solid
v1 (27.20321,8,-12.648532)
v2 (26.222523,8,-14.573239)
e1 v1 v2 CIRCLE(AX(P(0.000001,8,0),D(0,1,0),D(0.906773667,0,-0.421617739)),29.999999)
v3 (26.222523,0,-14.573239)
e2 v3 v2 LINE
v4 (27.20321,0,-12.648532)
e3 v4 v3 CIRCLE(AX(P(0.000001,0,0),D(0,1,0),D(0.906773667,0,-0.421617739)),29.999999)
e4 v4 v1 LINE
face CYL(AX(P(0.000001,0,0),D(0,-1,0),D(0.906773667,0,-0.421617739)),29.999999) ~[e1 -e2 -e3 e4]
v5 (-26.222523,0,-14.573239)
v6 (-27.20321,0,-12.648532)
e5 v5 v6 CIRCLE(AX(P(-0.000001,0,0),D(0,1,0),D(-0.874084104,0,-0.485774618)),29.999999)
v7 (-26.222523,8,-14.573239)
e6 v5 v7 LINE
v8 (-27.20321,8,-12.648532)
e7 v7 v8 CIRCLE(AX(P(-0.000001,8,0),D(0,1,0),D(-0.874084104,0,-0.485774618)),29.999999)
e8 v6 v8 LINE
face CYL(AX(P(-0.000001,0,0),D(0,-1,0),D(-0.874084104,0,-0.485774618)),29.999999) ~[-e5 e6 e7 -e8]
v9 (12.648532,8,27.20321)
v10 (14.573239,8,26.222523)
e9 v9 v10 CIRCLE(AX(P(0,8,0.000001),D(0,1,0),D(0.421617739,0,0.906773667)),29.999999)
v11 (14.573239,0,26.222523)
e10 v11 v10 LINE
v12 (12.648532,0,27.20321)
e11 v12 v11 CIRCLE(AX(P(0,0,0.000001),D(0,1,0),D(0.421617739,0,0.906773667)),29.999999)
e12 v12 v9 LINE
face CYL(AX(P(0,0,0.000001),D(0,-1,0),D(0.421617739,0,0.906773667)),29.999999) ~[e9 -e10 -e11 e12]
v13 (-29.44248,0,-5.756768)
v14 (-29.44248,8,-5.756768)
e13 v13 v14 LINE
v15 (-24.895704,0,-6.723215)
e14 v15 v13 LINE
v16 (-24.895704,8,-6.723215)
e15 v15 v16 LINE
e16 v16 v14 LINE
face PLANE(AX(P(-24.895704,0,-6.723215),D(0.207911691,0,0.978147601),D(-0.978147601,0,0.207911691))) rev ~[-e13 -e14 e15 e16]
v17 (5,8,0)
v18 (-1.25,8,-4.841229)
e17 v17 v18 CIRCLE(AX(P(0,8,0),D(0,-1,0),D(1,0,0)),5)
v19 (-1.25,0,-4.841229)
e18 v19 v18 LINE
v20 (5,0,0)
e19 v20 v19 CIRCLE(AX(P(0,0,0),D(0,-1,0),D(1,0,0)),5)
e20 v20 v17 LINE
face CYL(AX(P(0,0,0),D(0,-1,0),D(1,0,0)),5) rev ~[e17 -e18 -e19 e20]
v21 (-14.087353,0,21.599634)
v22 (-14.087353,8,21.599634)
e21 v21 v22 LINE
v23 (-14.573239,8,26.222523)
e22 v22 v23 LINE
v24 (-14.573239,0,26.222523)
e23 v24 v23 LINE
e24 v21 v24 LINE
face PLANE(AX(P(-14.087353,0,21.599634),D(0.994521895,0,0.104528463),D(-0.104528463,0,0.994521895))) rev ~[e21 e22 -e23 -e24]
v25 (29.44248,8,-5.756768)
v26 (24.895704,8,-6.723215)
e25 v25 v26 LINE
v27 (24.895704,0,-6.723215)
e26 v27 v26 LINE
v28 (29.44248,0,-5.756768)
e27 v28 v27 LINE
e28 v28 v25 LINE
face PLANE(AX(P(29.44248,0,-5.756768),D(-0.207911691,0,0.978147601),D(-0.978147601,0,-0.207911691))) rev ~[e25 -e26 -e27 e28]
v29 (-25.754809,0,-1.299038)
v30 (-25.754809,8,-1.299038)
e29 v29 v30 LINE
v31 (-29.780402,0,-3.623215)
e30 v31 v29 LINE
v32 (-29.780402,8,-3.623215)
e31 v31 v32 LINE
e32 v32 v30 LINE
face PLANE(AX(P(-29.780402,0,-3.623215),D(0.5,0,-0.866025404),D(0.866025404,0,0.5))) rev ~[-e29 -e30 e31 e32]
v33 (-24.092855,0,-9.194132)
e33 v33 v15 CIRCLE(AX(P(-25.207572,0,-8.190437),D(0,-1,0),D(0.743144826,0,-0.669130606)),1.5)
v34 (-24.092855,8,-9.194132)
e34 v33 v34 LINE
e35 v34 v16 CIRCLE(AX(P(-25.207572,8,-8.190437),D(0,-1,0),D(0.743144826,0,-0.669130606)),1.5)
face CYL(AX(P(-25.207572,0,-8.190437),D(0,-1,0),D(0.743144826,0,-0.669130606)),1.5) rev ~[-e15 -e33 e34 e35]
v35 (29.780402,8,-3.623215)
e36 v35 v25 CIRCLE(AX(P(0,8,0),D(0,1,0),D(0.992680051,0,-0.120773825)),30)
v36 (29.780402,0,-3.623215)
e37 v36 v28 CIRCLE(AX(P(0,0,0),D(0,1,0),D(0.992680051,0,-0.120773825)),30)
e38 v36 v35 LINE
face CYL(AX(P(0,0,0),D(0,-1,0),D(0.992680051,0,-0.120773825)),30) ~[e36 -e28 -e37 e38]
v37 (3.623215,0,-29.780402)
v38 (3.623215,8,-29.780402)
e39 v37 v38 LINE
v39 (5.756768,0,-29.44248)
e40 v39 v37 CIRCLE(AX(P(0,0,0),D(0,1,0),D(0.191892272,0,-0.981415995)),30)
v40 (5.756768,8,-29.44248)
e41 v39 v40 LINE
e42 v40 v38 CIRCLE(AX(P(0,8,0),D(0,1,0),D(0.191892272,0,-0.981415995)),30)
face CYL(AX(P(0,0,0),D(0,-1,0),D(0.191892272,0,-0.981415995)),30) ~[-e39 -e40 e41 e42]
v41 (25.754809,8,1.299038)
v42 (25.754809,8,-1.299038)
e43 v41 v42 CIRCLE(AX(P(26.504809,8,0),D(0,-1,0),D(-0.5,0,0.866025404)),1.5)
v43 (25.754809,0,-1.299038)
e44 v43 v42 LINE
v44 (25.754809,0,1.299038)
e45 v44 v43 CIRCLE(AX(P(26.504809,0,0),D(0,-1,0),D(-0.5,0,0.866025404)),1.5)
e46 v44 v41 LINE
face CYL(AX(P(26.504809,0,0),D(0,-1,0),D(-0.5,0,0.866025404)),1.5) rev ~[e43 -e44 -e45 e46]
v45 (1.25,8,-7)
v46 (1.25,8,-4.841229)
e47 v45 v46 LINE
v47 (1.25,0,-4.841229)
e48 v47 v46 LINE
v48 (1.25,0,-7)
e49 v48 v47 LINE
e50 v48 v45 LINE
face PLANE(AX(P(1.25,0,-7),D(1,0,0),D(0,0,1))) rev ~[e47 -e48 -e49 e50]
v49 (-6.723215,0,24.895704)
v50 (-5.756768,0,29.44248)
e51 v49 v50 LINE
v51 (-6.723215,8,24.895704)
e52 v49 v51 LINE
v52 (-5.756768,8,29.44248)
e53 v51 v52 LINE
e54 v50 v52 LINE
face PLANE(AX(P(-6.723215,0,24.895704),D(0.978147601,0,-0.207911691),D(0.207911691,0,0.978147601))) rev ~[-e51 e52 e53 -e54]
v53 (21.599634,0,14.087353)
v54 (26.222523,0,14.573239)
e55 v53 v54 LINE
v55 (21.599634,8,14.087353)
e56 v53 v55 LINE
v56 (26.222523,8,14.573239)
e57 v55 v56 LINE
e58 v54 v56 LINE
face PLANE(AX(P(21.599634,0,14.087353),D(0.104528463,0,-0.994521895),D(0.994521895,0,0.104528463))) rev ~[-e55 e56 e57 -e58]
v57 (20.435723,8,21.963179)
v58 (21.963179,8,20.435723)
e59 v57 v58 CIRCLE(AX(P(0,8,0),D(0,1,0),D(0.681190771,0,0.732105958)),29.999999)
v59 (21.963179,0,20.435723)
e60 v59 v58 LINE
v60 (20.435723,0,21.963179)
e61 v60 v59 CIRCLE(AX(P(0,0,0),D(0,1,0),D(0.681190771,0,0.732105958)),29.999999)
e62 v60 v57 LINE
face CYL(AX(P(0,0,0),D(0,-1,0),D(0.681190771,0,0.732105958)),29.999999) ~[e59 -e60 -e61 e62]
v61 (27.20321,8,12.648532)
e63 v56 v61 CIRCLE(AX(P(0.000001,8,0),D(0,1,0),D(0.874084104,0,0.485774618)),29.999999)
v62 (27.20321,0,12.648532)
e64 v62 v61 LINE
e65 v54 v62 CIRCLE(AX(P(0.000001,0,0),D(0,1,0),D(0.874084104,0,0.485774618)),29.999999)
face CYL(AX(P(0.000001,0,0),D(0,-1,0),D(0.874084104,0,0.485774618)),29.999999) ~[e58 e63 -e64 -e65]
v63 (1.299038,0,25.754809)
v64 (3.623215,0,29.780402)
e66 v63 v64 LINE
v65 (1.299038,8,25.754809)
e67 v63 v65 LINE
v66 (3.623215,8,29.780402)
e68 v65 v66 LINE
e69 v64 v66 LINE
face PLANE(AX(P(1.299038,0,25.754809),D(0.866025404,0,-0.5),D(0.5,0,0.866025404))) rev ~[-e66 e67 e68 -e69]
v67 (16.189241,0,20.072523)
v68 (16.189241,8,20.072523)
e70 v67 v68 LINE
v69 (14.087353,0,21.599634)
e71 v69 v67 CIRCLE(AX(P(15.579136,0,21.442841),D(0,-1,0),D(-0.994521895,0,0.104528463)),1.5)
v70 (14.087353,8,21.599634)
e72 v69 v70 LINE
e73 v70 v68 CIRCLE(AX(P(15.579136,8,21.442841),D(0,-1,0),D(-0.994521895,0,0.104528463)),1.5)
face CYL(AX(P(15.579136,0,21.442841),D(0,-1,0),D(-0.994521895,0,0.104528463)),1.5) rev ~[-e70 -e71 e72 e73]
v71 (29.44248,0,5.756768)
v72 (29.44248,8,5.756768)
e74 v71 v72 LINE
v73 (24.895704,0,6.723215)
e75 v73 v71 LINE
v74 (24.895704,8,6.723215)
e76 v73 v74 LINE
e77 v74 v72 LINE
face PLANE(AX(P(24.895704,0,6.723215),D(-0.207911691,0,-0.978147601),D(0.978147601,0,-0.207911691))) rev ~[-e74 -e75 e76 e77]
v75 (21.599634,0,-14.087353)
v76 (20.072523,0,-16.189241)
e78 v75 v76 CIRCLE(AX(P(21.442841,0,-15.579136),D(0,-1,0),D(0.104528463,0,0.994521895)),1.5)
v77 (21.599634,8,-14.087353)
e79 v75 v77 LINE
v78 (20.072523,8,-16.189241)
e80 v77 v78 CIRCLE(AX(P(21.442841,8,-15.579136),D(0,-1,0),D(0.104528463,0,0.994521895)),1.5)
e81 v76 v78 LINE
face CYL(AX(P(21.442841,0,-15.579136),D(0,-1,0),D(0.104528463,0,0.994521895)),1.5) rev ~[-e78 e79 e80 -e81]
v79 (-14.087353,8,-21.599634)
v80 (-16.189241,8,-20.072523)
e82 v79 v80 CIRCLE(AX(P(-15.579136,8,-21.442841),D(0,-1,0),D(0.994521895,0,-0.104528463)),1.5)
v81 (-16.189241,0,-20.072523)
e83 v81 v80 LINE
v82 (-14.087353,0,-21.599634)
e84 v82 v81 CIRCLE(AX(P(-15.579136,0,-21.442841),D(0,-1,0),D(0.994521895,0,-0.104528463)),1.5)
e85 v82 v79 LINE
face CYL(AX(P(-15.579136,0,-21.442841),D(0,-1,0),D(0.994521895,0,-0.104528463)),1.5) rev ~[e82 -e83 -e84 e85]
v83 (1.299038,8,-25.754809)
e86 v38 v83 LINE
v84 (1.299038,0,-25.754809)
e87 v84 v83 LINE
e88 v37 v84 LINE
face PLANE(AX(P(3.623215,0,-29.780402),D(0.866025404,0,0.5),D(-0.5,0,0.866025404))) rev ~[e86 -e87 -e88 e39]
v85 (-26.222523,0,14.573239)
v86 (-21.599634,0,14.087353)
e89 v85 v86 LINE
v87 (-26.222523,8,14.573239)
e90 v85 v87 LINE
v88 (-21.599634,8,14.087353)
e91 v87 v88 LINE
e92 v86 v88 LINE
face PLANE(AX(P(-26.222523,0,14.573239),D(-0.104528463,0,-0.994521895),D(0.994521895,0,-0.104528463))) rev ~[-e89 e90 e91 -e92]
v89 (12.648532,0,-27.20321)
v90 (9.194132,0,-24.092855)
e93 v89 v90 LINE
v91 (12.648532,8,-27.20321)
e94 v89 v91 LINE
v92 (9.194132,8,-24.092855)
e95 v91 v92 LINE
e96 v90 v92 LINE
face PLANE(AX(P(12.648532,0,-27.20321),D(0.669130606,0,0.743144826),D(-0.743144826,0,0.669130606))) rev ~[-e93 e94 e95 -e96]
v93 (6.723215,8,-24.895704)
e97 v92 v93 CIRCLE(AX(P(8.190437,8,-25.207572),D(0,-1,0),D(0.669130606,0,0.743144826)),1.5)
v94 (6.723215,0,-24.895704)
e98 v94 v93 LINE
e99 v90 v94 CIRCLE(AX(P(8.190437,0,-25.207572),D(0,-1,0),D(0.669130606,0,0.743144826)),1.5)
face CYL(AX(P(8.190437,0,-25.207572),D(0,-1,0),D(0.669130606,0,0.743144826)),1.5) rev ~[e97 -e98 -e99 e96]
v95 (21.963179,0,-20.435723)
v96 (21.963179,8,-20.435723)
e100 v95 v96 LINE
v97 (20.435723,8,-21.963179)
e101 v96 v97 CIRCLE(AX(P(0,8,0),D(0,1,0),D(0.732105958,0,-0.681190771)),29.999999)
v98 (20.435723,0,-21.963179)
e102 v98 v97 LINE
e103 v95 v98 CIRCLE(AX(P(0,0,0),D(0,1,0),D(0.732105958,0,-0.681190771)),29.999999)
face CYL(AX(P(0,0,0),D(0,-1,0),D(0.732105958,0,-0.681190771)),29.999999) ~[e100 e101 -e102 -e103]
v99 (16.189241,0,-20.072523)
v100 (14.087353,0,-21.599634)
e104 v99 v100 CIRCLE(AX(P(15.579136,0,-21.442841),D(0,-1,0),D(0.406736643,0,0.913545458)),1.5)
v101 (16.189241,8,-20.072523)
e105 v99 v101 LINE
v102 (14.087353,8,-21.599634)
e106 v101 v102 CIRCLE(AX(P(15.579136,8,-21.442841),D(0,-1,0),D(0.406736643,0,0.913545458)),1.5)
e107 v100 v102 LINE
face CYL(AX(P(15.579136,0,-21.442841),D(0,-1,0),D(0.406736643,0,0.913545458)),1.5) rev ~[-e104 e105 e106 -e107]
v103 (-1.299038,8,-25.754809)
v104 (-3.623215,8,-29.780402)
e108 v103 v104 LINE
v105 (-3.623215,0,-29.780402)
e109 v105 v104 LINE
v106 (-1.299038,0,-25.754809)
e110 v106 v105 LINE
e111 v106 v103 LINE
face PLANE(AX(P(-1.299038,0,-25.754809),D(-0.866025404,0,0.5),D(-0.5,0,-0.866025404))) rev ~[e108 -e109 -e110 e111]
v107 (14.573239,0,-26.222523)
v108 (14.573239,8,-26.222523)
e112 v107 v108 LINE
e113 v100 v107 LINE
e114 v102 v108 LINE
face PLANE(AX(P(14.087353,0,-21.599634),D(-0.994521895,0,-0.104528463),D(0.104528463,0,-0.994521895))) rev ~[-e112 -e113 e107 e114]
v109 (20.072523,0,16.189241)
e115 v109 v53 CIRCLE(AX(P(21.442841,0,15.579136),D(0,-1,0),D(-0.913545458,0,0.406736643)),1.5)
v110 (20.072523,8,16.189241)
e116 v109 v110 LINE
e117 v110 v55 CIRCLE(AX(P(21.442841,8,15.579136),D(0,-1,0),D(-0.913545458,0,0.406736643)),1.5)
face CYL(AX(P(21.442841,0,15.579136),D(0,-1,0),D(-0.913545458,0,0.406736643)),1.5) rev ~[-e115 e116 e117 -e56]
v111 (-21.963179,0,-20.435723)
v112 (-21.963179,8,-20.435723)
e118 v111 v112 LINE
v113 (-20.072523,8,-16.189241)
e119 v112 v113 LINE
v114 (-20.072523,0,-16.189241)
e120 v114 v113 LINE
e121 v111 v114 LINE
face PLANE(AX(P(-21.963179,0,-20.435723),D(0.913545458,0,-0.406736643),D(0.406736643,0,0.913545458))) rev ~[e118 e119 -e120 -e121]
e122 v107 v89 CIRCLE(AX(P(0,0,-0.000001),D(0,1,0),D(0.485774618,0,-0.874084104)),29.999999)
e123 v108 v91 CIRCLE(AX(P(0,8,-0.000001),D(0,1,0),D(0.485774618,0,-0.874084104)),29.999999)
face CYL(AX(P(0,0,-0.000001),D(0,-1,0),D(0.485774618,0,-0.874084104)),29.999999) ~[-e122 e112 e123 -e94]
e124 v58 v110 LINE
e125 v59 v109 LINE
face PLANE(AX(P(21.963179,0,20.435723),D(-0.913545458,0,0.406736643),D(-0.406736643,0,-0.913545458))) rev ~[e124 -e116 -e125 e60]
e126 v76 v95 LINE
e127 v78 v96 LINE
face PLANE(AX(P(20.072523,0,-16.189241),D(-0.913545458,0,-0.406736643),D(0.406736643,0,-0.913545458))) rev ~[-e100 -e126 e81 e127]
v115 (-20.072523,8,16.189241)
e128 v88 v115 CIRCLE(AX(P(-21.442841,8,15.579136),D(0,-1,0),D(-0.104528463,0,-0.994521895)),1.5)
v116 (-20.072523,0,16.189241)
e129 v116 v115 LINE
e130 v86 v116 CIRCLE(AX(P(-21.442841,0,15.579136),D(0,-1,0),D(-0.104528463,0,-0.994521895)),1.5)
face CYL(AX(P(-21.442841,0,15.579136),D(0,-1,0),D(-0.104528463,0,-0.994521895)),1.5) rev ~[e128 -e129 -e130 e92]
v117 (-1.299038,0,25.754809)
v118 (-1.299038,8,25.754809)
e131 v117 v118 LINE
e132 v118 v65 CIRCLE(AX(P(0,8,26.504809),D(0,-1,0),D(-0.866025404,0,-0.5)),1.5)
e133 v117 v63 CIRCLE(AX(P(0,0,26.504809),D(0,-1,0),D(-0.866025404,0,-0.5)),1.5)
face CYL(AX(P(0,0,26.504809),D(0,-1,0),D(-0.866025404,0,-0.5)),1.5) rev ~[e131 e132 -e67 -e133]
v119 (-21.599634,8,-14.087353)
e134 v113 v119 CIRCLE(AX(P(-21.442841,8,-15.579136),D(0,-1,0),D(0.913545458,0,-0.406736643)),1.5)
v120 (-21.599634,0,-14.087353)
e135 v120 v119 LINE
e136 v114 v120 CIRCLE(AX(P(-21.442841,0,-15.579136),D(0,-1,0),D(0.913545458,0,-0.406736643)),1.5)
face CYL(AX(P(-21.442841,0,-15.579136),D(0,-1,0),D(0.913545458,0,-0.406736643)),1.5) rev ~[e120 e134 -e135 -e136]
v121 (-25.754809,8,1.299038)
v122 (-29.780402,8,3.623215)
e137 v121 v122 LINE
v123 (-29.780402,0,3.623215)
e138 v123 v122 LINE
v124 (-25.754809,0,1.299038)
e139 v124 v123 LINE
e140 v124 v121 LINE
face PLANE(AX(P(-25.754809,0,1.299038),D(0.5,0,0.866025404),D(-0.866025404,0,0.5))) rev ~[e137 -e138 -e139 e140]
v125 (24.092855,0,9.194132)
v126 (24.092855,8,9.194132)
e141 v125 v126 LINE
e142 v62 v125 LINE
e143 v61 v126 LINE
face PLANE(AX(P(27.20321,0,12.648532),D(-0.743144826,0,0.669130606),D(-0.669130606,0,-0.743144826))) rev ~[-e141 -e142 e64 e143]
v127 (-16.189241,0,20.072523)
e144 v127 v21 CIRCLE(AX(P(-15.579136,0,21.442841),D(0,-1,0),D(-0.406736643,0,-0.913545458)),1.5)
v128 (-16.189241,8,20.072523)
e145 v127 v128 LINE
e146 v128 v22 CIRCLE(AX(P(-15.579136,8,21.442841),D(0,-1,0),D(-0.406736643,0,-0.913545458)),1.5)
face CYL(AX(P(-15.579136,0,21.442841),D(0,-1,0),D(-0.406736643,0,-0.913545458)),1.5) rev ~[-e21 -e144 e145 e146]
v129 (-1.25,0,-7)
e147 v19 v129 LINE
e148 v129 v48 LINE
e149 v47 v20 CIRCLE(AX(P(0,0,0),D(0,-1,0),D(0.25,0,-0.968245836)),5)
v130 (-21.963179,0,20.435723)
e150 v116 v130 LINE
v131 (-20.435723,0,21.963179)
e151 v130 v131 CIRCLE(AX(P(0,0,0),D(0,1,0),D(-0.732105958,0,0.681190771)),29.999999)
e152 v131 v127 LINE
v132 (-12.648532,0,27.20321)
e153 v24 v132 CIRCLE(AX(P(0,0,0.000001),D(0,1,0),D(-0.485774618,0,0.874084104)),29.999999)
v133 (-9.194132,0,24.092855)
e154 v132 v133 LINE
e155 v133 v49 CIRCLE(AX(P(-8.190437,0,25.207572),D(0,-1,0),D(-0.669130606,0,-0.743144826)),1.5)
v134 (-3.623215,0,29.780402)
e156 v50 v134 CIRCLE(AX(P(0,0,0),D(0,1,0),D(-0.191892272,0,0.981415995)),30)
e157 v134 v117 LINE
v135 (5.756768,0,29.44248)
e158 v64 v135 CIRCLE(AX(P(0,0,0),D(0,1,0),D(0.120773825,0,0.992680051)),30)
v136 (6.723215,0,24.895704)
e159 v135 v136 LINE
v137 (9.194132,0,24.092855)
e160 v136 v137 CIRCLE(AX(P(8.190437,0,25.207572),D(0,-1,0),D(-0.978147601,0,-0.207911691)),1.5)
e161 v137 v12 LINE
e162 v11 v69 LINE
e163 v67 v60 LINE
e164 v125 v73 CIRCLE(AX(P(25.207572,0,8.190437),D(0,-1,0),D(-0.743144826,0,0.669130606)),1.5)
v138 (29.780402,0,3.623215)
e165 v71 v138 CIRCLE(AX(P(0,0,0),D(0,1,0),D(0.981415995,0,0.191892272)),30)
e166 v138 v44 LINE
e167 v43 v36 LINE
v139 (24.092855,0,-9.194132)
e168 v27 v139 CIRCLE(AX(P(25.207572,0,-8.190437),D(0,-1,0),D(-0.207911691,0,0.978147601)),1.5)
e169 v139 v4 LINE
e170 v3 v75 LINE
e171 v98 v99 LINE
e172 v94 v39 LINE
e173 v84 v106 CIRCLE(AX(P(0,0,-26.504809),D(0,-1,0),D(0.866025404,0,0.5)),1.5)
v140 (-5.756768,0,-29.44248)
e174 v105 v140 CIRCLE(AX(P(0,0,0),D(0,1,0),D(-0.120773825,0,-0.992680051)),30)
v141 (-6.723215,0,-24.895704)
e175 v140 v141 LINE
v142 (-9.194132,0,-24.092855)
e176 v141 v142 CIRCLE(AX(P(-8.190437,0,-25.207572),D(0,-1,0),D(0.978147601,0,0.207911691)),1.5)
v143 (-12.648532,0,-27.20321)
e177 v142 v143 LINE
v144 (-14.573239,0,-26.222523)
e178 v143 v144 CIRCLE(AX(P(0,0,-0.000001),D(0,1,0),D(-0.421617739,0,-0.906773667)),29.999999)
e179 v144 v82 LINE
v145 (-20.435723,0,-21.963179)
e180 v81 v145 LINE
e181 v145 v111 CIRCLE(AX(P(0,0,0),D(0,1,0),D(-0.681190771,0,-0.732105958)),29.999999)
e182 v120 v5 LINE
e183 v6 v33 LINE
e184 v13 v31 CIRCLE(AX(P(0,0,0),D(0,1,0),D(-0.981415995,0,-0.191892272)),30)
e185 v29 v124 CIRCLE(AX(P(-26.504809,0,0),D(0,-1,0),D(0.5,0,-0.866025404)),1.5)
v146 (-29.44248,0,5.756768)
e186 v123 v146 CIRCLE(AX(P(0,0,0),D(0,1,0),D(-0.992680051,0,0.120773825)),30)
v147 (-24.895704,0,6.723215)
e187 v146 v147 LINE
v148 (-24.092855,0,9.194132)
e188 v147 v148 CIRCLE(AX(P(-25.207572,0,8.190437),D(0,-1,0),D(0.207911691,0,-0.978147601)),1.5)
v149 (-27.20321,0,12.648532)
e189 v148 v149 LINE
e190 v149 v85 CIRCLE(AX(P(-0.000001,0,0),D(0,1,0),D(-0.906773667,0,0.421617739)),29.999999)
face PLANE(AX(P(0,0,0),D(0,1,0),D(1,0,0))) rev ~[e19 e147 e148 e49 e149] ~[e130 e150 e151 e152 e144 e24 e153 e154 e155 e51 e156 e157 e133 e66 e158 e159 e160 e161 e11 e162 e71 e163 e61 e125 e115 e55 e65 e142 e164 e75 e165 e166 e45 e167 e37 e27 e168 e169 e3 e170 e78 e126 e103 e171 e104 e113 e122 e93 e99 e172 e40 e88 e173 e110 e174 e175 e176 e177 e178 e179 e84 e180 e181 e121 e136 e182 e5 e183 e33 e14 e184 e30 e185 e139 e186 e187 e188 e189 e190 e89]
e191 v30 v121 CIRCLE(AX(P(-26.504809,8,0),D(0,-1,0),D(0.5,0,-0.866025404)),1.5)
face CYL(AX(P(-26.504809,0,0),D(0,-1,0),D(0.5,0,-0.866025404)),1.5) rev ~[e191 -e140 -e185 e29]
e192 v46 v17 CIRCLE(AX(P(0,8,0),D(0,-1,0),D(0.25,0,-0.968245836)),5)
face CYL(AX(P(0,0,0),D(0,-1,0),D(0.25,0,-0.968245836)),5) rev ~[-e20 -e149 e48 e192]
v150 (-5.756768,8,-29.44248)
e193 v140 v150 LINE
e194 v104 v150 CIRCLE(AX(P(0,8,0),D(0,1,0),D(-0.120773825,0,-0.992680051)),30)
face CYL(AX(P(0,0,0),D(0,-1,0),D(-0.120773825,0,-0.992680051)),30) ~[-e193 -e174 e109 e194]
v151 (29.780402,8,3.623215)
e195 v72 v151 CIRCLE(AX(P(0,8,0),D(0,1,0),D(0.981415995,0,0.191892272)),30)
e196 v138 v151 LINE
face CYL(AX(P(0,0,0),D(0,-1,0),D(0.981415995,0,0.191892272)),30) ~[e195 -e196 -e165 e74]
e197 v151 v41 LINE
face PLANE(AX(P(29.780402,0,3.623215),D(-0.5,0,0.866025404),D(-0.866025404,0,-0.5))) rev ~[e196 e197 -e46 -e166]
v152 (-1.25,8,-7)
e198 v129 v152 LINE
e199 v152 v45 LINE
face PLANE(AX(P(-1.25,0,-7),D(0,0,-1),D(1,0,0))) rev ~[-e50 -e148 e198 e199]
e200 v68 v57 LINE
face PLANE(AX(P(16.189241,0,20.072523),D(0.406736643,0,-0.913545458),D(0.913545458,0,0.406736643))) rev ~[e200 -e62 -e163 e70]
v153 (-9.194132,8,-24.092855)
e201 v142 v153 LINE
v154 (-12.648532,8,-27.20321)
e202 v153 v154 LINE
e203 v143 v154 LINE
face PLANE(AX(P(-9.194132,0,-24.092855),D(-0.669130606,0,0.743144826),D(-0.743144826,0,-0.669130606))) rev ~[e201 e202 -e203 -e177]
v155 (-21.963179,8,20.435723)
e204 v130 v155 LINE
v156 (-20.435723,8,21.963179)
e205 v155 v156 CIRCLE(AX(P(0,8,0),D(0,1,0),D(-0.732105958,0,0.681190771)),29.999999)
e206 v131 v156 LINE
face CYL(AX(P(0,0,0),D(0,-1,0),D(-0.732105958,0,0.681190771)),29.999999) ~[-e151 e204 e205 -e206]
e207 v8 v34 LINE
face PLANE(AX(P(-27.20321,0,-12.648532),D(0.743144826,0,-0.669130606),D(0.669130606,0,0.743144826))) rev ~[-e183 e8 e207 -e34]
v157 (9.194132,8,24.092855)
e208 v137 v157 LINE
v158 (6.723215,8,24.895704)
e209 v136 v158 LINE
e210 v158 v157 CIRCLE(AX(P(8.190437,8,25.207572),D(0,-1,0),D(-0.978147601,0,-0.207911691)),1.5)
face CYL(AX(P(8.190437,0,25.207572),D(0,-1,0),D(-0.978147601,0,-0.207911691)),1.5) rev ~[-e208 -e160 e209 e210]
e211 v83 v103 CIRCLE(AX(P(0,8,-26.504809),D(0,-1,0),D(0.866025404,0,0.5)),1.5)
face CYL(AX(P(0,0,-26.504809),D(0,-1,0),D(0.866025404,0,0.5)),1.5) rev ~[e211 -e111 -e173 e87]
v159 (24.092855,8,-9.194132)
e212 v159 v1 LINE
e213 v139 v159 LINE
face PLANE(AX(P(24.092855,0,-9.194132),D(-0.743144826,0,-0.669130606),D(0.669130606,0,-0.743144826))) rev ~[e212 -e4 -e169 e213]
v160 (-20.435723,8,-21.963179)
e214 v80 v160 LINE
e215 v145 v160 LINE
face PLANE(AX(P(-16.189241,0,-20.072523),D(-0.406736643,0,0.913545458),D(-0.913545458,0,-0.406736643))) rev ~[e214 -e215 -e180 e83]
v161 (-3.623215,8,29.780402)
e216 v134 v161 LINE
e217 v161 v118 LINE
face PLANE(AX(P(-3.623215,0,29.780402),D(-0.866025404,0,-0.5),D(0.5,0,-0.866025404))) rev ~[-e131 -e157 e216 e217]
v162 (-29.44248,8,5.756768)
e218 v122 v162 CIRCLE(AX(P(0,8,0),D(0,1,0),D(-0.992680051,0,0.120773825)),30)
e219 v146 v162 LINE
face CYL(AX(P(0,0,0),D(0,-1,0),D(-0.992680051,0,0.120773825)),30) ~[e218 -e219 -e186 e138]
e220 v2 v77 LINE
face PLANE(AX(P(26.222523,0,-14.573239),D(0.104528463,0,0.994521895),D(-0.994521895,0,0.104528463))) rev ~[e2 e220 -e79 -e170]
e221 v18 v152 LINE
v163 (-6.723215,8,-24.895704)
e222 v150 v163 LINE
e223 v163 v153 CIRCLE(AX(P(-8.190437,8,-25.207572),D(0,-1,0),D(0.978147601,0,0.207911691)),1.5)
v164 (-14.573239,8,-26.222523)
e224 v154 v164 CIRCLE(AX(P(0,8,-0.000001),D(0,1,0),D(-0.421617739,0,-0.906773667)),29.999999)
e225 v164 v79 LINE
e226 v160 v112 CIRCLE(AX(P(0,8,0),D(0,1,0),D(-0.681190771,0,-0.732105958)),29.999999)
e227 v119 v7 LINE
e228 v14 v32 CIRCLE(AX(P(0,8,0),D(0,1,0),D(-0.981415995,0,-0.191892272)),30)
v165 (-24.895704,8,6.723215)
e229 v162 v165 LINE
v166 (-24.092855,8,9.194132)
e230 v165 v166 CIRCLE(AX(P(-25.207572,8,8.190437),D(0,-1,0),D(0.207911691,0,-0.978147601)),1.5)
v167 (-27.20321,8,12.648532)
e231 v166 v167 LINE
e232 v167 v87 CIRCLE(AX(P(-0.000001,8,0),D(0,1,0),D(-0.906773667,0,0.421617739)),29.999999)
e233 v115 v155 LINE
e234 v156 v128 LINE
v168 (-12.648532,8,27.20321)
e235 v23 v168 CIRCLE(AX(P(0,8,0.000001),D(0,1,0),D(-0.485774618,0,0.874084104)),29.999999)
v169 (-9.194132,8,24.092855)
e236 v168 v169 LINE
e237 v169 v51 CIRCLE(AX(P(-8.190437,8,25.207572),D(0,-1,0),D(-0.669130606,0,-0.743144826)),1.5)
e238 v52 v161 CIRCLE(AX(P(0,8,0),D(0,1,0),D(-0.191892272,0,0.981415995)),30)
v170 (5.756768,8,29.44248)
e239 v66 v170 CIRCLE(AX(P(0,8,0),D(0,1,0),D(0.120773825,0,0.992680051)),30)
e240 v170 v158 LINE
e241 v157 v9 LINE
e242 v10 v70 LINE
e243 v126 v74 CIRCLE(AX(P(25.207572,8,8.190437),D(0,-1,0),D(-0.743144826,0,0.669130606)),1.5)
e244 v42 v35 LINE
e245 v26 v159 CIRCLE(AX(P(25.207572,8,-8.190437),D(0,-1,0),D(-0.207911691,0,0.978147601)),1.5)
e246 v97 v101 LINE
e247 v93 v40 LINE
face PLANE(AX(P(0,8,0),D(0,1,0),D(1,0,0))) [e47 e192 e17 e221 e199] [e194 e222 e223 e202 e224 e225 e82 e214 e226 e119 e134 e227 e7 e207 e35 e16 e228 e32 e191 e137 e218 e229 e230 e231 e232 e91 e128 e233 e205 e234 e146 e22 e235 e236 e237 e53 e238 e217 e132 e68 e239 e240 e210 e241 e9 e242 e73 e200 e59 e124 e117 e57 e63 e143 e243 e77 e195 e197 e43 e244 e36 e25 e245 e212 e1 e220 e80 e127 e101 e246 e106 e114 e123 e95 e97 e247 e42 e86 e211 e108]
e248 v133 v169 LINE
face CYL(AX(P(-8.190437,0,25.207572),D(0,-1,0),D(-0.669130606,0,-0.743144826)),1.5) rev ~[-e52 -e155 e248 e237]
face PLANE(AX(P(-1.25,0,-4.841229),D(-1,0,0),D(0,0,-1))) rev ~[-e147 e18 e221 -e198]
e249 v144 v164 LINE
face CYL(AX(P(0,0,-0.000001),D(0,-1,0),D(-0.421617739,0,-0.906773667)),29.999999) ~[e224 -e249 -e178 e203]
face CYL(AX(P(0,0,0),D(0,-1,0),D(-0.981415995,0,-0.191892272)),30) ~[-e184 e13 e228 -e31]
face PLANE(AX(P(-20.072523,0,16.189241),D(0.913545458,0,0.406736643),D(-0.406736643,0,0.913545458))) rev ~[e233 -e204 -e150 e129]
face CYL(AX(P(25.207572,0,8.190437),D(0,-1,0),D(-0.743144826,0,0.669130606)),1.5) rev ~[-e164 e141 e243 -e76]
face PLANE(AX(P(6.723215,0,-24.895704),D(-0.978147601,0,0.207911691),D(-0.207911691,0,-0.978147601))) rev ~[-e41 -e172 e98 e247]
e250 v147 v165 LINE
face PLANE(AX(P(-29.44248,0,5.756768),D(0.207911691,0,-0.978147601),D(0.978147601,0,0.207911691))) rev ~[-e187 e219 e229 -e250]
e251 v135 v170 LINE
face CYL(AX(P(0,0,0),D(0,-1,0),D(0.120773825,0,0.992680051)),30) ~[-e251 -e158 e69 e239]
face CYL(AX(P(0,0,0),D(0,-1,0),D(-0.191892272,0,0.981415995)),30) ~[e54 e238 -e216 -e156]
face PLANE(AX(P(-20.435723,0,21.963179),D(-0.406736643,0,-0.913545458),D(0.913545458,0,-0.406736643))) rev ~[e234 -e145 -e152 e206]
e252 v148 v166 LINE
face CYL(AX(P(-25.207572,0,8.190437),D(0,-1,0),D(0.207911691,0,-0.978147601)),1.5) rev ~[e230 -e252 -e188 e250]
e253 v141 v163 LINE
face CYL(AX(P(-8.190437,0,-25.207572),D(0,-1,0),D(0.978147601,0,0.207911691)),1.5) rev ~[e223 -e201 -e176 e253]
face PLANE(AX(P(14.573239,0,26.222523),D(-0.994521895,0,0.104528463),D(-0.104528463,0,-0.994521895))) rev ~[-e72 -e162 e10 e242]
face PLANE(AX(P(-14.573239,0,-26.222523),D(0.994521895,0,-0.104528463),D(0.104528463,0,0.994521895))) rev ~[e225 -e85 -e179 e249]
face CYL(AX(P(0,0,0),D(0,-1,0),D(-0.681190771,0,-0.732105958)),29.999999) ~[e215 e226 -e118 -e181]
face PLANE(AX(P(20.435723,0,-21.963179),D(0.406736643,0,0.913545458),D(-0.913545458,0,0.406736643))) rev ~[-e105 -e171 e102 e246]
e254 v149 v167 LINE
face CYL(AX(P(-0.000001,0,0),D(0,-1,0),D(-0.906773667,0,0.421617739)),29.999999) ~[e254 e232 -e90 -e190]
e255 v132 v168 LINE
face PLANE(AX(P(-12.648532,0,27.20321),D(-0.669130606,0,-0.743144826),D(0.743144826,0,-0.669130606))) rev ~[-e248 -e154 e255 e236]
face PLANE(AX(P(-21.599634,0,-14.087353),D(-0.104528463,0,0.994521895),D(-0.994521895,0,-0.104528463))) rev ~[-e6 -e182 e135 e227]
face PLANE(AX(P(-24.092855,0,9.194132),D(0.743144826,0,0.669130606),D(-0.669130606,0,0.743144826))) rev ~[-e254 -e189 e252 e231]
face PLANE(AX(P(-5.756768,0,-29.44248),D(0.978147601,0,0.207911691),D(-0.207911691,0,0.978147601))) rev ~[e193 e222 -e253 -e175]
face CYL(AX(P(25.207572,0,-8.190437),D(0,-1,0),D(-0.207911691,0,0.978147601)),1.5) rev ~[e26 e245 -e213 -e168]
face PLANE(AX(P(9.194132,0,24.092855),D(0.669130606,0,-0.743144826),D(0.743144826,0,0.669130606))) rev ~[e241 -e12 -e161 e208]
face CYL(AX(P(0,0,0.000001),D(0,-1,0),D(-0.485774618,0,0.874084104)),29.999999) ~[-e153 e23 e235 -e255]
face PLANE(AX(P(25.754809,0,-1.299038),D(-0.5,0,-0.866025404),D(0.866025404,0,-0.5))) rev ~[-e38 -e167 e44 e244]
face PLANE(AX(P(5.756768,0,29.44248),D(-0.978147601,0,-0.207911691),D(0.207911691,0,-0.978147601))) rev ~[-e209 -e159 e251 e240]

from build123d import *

# Parameters (mm, degrees)
BOSS_EXTRUDE1_DEPTH = 8


with BuildPart() as part:
    # Sketch1 → Boss-Extrude1 (new body)
    with BuildSketch(Plane(origin=(0, 0, 0), x_dir=(1, 0, 0), z_dir=(0, 1, 0))):
        with BuildLine():
            ThreePointArc((5.756768163, 29.44247986), (4.693033951, 29.630650218), (3.62321476, 29.780401522))
            Line((3.62321476, 29.780401522), (1.299038106, 25.754809472))
            ThreePointArc((1.299038106, 25.754809472), (0, 25.004809472), (-1.299038106, 25.754809472))
            Line((-1.299038106, 25.754809472), (-3.62321476, 29.780401522))
            ThreePointArc((-3.62321476, 29.780401522), (-4.693033951, 29.630650218), (-5.756768163, 29.44247986))
            Line((-5.756768163, 29.44247986), (-6.723215158, 24.895704225))
            ThreePointArc((-6.723215158, 24.895704225), (-7.726911068, 23.780986987), (-9.194132469, 24.092854523))
            Line((-9.194132469, 24.092854523), (-12.648532177, 27.20320999))
            ThreePointArc((-12.648532177, 27.20320999), (-13.619714992, 26.730195726), (-14.573238507, 26.222523132))
            Line((-14.573238507, 26.222523132), (-14.087353279, 21.59963399))
            ThreePointArc((-14.087353279, 21.59963399), (-14.697458244, 20.229315804), (-16.189241087, 20.072523109))
            Line((-16.189241087, 20.072523109), (-20.435723137, 21.963178729))
            ThreePointArc((-20.435723137, 21.963178729), (-21.213203436, 21.213203436), (-21.963178729, 20.435723137))
            Line((-21.963178729, 20.435723137), (-20.072523109, 16.189241087))
            ThreePointArc((-20.072523109, 16.189241087), (-20.229315804, 14.697458244), (-21.59963399, 14.087353279))
            Line((-21.59963399, 14.087353279), (-26.222523132, 14.573238507))
            ThreePointArc((-26.222523132, 14.573238507), (-26.730195726, 13.619714992), (-27.20320999, 12.648532177))
            Line((-27.20320999, 12.648532177), (-24.092854523, 9.194132469))
            ThreePointArc((-24.092854523, 9.194132469), (-23.780986987, 7.726911068), (-24.895704225, 6.723215158))
            Line((-24.895704225, 6.723215158), (-29.44247986, 5.756768163))
            ThreePointArc((-29.44247986, 5.756768163), (-29.630650218, 4.693033951), (-29.780401522, 3.62321476))
            Line((-29.780401522, 3.62321476), (-25.754809472, 1.299038106))
            ThreePointArc((-25.754809472, 1.299038106), (-25.004809472, 0), (-25.754809472, -1.299038106))
            Line((-25.754809472, -1.299038106), (-29.780401522, -3.62321476))
            ThreePointArc((-29.780401522, -3.62321476), (-29.630650218, -4.693033951), (-29.44247986, -5.756768163))
            Line((-29.44247986, -5.756768163), (-24.895704225, -6.723215158))
            ThreePointArc((-24.895704225, -6.723215158), (-23.780986987, -7.726911068), (-24.092854523, -9.194132469))
            Line((-24.092854523, -9.194132469), (-27.20320999, -12.648532177))
            ThreePointArc((-27.20320999, -12.648532177), (-26.730195726, -13.619714992), (-26.222523132, -14.573238507))
            Line((-26.222523132, -14.573238507), (-21.59963399, -14.087353279))
            ThreePointArc((-21.59963399, -14.087353279), (-20.229315804, -14.697458244), (-20.072523109, -16.189241087))
            Line((-20.072523109, -16.189241087), (-21.963178729, -20.435723137))
            ThreePointArc((-21.963178729, -20.435723137), (-21.213203436, -21.213203436), (-20.435723137, -21.963178729))
            Line((-20.435723137, -21.963178729), (-16.189241087, -20.072523109))
            ThreePointArc((-16.189241087, -20.072523109), (-14.697458244, -20.229315804), (-14.087353279, -21.59963399))
            Line((-14.087353279, -21.59963399), (-14.573238507, -26.222523132))
            ThreePointArc((-14.573238507, -26.222523132), (-13.619714992, -26.730195726), (-12.648532177, -27.20320999))
            Line((-12.648532177, -27.20320999), (-9.194132469, -24.092854523))
            ThreePointArc((-9.194132469, -24.092854523), (-7.726911068, -23.780986987), (-6.723215158, -24.895704225))
            Line((-6.723215158, -24.895704225), (-5.756768163, -29.44247986))
            ThreePointArc((-5.756768163, -29.44247986), (-4.693033951, -29.630650218), (-3.62321476, -29.780401522))
            Line((-3.62321476, -29.780401522), (-1.299038106, -25.754809472))
            ThreePointArc((-1.299038106, -25.754809472), (0, -25.004809472), (1.299038106, -25.754809472))
            Line((1.299038106, -25.754809472), (3.62321476, -29.780401522))
            ThreePointArc((3.62321476, -29.780401522), (4.693033951, -29.630650218), (5.756768163, -29.44247986))
            Line((5.756768163, -29.44247986), (6.723215158, -24.895704225))
            ThreePointArc((6.723215158, -24.895704225), (7.726911068, -23.780986987), (9.194132469, -24.092854523))
            Line((9.194132469, -24.092854523), (12.648532177, -27.20320999))
            ThreePointArc((12.648532177, -27.20320999), (13.619714992, -26.730195726), (14.573238507, -26.222523132))
            Line((14.573238507, -26.222523132), (14.087353279, -21.59963399))
            ThreePointArc((14.087353279, -21.59963399), (14.697458244, -20.229315804), (16.189241087, -20.072523109))
            Line((16.189241087, -20.072523109), (20.435723137, -21.963178729))
            ThreePointArc((20.435723137, -21.963178729), (21.213203436, -21.213203436), (21.963178729, -20.435723137))
            Line((21.963178729, -20.435723137), (20.072523109, -16.189241087))
            ThreePointArc((20.072523109, -16.189241087), (20.229315804, -14.697458244), (21.59963399, -14.087353279))
            Line((21.59963399, -14.087353279), (26.222523132, -14.573238507))
            ThreePointArc((26.222523132, -14.573238507), (26.730195726, -13.619714992), (27.20320999, -12.648532177))
            Line((27.20320999, -12.648532177), (24.092854523, -9.194132469))
            ThreePointArc((24.092854523, -9.194132469), (23.780986987, -7.726911068), (24.895704225, -6.723215158))
            Line((24.895704225, -6.723215158), (29.44247986, -5.756768163))
            ThreePointArc((29.44247986, -5.756768163), (29.630650218, -4.693033951), (29.780401522, -3.62321476))
            Line((29.780401522, -3.62321476), (25.754809472, -1.299038106))
            ThreePointArc((25.754809472, -1.299038106), (25.004809472, 0), (25.754809472, 1.299038106))
            Line((25.754809472, 1.299038106), (29.780401522, 3.62321476))
            ThreePointArc((29.780401522, 3.62321476), (29.630650218, 4.693033951), (29.44247986, 5.756768163))
            Line((29.44247986, 5.756768163), (24.895704225, 6.723215158))
            ThreePointArc((24.895704225, 6.723215158), (23.780986987, 7.726911068), (24.092854523, 9.194132469))
            Line((24.092854523, 9.194132469), (27.20320999, 12.648532177))
            ThreePointArc((27.20320999, 12.648532177), (26.730195726, 13.619714992), (26.222523132, 14.573238507))
            Line((26.222523132, 14.573238507), (21.59963399, 14.087353279))
            ThreePointArc((21.59963399, 14.087353279), (20.229315804, 14.697458244), (20.072523109, 16.189241087))
            Line((20.072523109, 16.189241087), (21.963178729, 20.435723137))
            ThreePointArc((21.963178729, 20.435723137), (21.213203436, 21.213203436), (20.435723137, 21.963178729))
            Line((20.435723137, 21.963178729), (16.189241087, 20.072523109))
            ThreePointArc((16.189241087, 20.072523109), (14.697458244, 20.229315804), (14.087353279, 21.59963399))
            Line((14.087353279, 21.59963399), (14.573238507, 26.222523132))
            ThreePointArc((14.573238507, 26.222523132), (13.619714992, 26.730195726), (12.648532177, 27.20320999))
            Line((12.648532177, 27.20320999), (9.194132469, 24.092854523))
            ThreePointArc((9.194132469, 24.092854523), (7.726911068, 23.780986987), (6.723215158, 24.895704225))
            Line((6.723215158, 24.895704225), (5.756768163, 29.44247986))
        make_face()
        with BuildLine():
            ThreePointArc((5, 0), (-3.061862178, -3.952847075), (-1.25, 4.841229183))
            Line((-1.25, 4.841229183), (-1.25, 7))
            Line((-1.25, 7), (1.25, 7))
            Line((1.25, 7), (1.25, 4.841229183))
            ThreePointArc((1.25, 4.841229183), (3.952847075, 3.061862178), (5, 0))
        make_face(mode=Mode.SUBTRACT)
    extrude(amount=BOSS_EXTRUDE1_DEPTH)


solid = part.part
